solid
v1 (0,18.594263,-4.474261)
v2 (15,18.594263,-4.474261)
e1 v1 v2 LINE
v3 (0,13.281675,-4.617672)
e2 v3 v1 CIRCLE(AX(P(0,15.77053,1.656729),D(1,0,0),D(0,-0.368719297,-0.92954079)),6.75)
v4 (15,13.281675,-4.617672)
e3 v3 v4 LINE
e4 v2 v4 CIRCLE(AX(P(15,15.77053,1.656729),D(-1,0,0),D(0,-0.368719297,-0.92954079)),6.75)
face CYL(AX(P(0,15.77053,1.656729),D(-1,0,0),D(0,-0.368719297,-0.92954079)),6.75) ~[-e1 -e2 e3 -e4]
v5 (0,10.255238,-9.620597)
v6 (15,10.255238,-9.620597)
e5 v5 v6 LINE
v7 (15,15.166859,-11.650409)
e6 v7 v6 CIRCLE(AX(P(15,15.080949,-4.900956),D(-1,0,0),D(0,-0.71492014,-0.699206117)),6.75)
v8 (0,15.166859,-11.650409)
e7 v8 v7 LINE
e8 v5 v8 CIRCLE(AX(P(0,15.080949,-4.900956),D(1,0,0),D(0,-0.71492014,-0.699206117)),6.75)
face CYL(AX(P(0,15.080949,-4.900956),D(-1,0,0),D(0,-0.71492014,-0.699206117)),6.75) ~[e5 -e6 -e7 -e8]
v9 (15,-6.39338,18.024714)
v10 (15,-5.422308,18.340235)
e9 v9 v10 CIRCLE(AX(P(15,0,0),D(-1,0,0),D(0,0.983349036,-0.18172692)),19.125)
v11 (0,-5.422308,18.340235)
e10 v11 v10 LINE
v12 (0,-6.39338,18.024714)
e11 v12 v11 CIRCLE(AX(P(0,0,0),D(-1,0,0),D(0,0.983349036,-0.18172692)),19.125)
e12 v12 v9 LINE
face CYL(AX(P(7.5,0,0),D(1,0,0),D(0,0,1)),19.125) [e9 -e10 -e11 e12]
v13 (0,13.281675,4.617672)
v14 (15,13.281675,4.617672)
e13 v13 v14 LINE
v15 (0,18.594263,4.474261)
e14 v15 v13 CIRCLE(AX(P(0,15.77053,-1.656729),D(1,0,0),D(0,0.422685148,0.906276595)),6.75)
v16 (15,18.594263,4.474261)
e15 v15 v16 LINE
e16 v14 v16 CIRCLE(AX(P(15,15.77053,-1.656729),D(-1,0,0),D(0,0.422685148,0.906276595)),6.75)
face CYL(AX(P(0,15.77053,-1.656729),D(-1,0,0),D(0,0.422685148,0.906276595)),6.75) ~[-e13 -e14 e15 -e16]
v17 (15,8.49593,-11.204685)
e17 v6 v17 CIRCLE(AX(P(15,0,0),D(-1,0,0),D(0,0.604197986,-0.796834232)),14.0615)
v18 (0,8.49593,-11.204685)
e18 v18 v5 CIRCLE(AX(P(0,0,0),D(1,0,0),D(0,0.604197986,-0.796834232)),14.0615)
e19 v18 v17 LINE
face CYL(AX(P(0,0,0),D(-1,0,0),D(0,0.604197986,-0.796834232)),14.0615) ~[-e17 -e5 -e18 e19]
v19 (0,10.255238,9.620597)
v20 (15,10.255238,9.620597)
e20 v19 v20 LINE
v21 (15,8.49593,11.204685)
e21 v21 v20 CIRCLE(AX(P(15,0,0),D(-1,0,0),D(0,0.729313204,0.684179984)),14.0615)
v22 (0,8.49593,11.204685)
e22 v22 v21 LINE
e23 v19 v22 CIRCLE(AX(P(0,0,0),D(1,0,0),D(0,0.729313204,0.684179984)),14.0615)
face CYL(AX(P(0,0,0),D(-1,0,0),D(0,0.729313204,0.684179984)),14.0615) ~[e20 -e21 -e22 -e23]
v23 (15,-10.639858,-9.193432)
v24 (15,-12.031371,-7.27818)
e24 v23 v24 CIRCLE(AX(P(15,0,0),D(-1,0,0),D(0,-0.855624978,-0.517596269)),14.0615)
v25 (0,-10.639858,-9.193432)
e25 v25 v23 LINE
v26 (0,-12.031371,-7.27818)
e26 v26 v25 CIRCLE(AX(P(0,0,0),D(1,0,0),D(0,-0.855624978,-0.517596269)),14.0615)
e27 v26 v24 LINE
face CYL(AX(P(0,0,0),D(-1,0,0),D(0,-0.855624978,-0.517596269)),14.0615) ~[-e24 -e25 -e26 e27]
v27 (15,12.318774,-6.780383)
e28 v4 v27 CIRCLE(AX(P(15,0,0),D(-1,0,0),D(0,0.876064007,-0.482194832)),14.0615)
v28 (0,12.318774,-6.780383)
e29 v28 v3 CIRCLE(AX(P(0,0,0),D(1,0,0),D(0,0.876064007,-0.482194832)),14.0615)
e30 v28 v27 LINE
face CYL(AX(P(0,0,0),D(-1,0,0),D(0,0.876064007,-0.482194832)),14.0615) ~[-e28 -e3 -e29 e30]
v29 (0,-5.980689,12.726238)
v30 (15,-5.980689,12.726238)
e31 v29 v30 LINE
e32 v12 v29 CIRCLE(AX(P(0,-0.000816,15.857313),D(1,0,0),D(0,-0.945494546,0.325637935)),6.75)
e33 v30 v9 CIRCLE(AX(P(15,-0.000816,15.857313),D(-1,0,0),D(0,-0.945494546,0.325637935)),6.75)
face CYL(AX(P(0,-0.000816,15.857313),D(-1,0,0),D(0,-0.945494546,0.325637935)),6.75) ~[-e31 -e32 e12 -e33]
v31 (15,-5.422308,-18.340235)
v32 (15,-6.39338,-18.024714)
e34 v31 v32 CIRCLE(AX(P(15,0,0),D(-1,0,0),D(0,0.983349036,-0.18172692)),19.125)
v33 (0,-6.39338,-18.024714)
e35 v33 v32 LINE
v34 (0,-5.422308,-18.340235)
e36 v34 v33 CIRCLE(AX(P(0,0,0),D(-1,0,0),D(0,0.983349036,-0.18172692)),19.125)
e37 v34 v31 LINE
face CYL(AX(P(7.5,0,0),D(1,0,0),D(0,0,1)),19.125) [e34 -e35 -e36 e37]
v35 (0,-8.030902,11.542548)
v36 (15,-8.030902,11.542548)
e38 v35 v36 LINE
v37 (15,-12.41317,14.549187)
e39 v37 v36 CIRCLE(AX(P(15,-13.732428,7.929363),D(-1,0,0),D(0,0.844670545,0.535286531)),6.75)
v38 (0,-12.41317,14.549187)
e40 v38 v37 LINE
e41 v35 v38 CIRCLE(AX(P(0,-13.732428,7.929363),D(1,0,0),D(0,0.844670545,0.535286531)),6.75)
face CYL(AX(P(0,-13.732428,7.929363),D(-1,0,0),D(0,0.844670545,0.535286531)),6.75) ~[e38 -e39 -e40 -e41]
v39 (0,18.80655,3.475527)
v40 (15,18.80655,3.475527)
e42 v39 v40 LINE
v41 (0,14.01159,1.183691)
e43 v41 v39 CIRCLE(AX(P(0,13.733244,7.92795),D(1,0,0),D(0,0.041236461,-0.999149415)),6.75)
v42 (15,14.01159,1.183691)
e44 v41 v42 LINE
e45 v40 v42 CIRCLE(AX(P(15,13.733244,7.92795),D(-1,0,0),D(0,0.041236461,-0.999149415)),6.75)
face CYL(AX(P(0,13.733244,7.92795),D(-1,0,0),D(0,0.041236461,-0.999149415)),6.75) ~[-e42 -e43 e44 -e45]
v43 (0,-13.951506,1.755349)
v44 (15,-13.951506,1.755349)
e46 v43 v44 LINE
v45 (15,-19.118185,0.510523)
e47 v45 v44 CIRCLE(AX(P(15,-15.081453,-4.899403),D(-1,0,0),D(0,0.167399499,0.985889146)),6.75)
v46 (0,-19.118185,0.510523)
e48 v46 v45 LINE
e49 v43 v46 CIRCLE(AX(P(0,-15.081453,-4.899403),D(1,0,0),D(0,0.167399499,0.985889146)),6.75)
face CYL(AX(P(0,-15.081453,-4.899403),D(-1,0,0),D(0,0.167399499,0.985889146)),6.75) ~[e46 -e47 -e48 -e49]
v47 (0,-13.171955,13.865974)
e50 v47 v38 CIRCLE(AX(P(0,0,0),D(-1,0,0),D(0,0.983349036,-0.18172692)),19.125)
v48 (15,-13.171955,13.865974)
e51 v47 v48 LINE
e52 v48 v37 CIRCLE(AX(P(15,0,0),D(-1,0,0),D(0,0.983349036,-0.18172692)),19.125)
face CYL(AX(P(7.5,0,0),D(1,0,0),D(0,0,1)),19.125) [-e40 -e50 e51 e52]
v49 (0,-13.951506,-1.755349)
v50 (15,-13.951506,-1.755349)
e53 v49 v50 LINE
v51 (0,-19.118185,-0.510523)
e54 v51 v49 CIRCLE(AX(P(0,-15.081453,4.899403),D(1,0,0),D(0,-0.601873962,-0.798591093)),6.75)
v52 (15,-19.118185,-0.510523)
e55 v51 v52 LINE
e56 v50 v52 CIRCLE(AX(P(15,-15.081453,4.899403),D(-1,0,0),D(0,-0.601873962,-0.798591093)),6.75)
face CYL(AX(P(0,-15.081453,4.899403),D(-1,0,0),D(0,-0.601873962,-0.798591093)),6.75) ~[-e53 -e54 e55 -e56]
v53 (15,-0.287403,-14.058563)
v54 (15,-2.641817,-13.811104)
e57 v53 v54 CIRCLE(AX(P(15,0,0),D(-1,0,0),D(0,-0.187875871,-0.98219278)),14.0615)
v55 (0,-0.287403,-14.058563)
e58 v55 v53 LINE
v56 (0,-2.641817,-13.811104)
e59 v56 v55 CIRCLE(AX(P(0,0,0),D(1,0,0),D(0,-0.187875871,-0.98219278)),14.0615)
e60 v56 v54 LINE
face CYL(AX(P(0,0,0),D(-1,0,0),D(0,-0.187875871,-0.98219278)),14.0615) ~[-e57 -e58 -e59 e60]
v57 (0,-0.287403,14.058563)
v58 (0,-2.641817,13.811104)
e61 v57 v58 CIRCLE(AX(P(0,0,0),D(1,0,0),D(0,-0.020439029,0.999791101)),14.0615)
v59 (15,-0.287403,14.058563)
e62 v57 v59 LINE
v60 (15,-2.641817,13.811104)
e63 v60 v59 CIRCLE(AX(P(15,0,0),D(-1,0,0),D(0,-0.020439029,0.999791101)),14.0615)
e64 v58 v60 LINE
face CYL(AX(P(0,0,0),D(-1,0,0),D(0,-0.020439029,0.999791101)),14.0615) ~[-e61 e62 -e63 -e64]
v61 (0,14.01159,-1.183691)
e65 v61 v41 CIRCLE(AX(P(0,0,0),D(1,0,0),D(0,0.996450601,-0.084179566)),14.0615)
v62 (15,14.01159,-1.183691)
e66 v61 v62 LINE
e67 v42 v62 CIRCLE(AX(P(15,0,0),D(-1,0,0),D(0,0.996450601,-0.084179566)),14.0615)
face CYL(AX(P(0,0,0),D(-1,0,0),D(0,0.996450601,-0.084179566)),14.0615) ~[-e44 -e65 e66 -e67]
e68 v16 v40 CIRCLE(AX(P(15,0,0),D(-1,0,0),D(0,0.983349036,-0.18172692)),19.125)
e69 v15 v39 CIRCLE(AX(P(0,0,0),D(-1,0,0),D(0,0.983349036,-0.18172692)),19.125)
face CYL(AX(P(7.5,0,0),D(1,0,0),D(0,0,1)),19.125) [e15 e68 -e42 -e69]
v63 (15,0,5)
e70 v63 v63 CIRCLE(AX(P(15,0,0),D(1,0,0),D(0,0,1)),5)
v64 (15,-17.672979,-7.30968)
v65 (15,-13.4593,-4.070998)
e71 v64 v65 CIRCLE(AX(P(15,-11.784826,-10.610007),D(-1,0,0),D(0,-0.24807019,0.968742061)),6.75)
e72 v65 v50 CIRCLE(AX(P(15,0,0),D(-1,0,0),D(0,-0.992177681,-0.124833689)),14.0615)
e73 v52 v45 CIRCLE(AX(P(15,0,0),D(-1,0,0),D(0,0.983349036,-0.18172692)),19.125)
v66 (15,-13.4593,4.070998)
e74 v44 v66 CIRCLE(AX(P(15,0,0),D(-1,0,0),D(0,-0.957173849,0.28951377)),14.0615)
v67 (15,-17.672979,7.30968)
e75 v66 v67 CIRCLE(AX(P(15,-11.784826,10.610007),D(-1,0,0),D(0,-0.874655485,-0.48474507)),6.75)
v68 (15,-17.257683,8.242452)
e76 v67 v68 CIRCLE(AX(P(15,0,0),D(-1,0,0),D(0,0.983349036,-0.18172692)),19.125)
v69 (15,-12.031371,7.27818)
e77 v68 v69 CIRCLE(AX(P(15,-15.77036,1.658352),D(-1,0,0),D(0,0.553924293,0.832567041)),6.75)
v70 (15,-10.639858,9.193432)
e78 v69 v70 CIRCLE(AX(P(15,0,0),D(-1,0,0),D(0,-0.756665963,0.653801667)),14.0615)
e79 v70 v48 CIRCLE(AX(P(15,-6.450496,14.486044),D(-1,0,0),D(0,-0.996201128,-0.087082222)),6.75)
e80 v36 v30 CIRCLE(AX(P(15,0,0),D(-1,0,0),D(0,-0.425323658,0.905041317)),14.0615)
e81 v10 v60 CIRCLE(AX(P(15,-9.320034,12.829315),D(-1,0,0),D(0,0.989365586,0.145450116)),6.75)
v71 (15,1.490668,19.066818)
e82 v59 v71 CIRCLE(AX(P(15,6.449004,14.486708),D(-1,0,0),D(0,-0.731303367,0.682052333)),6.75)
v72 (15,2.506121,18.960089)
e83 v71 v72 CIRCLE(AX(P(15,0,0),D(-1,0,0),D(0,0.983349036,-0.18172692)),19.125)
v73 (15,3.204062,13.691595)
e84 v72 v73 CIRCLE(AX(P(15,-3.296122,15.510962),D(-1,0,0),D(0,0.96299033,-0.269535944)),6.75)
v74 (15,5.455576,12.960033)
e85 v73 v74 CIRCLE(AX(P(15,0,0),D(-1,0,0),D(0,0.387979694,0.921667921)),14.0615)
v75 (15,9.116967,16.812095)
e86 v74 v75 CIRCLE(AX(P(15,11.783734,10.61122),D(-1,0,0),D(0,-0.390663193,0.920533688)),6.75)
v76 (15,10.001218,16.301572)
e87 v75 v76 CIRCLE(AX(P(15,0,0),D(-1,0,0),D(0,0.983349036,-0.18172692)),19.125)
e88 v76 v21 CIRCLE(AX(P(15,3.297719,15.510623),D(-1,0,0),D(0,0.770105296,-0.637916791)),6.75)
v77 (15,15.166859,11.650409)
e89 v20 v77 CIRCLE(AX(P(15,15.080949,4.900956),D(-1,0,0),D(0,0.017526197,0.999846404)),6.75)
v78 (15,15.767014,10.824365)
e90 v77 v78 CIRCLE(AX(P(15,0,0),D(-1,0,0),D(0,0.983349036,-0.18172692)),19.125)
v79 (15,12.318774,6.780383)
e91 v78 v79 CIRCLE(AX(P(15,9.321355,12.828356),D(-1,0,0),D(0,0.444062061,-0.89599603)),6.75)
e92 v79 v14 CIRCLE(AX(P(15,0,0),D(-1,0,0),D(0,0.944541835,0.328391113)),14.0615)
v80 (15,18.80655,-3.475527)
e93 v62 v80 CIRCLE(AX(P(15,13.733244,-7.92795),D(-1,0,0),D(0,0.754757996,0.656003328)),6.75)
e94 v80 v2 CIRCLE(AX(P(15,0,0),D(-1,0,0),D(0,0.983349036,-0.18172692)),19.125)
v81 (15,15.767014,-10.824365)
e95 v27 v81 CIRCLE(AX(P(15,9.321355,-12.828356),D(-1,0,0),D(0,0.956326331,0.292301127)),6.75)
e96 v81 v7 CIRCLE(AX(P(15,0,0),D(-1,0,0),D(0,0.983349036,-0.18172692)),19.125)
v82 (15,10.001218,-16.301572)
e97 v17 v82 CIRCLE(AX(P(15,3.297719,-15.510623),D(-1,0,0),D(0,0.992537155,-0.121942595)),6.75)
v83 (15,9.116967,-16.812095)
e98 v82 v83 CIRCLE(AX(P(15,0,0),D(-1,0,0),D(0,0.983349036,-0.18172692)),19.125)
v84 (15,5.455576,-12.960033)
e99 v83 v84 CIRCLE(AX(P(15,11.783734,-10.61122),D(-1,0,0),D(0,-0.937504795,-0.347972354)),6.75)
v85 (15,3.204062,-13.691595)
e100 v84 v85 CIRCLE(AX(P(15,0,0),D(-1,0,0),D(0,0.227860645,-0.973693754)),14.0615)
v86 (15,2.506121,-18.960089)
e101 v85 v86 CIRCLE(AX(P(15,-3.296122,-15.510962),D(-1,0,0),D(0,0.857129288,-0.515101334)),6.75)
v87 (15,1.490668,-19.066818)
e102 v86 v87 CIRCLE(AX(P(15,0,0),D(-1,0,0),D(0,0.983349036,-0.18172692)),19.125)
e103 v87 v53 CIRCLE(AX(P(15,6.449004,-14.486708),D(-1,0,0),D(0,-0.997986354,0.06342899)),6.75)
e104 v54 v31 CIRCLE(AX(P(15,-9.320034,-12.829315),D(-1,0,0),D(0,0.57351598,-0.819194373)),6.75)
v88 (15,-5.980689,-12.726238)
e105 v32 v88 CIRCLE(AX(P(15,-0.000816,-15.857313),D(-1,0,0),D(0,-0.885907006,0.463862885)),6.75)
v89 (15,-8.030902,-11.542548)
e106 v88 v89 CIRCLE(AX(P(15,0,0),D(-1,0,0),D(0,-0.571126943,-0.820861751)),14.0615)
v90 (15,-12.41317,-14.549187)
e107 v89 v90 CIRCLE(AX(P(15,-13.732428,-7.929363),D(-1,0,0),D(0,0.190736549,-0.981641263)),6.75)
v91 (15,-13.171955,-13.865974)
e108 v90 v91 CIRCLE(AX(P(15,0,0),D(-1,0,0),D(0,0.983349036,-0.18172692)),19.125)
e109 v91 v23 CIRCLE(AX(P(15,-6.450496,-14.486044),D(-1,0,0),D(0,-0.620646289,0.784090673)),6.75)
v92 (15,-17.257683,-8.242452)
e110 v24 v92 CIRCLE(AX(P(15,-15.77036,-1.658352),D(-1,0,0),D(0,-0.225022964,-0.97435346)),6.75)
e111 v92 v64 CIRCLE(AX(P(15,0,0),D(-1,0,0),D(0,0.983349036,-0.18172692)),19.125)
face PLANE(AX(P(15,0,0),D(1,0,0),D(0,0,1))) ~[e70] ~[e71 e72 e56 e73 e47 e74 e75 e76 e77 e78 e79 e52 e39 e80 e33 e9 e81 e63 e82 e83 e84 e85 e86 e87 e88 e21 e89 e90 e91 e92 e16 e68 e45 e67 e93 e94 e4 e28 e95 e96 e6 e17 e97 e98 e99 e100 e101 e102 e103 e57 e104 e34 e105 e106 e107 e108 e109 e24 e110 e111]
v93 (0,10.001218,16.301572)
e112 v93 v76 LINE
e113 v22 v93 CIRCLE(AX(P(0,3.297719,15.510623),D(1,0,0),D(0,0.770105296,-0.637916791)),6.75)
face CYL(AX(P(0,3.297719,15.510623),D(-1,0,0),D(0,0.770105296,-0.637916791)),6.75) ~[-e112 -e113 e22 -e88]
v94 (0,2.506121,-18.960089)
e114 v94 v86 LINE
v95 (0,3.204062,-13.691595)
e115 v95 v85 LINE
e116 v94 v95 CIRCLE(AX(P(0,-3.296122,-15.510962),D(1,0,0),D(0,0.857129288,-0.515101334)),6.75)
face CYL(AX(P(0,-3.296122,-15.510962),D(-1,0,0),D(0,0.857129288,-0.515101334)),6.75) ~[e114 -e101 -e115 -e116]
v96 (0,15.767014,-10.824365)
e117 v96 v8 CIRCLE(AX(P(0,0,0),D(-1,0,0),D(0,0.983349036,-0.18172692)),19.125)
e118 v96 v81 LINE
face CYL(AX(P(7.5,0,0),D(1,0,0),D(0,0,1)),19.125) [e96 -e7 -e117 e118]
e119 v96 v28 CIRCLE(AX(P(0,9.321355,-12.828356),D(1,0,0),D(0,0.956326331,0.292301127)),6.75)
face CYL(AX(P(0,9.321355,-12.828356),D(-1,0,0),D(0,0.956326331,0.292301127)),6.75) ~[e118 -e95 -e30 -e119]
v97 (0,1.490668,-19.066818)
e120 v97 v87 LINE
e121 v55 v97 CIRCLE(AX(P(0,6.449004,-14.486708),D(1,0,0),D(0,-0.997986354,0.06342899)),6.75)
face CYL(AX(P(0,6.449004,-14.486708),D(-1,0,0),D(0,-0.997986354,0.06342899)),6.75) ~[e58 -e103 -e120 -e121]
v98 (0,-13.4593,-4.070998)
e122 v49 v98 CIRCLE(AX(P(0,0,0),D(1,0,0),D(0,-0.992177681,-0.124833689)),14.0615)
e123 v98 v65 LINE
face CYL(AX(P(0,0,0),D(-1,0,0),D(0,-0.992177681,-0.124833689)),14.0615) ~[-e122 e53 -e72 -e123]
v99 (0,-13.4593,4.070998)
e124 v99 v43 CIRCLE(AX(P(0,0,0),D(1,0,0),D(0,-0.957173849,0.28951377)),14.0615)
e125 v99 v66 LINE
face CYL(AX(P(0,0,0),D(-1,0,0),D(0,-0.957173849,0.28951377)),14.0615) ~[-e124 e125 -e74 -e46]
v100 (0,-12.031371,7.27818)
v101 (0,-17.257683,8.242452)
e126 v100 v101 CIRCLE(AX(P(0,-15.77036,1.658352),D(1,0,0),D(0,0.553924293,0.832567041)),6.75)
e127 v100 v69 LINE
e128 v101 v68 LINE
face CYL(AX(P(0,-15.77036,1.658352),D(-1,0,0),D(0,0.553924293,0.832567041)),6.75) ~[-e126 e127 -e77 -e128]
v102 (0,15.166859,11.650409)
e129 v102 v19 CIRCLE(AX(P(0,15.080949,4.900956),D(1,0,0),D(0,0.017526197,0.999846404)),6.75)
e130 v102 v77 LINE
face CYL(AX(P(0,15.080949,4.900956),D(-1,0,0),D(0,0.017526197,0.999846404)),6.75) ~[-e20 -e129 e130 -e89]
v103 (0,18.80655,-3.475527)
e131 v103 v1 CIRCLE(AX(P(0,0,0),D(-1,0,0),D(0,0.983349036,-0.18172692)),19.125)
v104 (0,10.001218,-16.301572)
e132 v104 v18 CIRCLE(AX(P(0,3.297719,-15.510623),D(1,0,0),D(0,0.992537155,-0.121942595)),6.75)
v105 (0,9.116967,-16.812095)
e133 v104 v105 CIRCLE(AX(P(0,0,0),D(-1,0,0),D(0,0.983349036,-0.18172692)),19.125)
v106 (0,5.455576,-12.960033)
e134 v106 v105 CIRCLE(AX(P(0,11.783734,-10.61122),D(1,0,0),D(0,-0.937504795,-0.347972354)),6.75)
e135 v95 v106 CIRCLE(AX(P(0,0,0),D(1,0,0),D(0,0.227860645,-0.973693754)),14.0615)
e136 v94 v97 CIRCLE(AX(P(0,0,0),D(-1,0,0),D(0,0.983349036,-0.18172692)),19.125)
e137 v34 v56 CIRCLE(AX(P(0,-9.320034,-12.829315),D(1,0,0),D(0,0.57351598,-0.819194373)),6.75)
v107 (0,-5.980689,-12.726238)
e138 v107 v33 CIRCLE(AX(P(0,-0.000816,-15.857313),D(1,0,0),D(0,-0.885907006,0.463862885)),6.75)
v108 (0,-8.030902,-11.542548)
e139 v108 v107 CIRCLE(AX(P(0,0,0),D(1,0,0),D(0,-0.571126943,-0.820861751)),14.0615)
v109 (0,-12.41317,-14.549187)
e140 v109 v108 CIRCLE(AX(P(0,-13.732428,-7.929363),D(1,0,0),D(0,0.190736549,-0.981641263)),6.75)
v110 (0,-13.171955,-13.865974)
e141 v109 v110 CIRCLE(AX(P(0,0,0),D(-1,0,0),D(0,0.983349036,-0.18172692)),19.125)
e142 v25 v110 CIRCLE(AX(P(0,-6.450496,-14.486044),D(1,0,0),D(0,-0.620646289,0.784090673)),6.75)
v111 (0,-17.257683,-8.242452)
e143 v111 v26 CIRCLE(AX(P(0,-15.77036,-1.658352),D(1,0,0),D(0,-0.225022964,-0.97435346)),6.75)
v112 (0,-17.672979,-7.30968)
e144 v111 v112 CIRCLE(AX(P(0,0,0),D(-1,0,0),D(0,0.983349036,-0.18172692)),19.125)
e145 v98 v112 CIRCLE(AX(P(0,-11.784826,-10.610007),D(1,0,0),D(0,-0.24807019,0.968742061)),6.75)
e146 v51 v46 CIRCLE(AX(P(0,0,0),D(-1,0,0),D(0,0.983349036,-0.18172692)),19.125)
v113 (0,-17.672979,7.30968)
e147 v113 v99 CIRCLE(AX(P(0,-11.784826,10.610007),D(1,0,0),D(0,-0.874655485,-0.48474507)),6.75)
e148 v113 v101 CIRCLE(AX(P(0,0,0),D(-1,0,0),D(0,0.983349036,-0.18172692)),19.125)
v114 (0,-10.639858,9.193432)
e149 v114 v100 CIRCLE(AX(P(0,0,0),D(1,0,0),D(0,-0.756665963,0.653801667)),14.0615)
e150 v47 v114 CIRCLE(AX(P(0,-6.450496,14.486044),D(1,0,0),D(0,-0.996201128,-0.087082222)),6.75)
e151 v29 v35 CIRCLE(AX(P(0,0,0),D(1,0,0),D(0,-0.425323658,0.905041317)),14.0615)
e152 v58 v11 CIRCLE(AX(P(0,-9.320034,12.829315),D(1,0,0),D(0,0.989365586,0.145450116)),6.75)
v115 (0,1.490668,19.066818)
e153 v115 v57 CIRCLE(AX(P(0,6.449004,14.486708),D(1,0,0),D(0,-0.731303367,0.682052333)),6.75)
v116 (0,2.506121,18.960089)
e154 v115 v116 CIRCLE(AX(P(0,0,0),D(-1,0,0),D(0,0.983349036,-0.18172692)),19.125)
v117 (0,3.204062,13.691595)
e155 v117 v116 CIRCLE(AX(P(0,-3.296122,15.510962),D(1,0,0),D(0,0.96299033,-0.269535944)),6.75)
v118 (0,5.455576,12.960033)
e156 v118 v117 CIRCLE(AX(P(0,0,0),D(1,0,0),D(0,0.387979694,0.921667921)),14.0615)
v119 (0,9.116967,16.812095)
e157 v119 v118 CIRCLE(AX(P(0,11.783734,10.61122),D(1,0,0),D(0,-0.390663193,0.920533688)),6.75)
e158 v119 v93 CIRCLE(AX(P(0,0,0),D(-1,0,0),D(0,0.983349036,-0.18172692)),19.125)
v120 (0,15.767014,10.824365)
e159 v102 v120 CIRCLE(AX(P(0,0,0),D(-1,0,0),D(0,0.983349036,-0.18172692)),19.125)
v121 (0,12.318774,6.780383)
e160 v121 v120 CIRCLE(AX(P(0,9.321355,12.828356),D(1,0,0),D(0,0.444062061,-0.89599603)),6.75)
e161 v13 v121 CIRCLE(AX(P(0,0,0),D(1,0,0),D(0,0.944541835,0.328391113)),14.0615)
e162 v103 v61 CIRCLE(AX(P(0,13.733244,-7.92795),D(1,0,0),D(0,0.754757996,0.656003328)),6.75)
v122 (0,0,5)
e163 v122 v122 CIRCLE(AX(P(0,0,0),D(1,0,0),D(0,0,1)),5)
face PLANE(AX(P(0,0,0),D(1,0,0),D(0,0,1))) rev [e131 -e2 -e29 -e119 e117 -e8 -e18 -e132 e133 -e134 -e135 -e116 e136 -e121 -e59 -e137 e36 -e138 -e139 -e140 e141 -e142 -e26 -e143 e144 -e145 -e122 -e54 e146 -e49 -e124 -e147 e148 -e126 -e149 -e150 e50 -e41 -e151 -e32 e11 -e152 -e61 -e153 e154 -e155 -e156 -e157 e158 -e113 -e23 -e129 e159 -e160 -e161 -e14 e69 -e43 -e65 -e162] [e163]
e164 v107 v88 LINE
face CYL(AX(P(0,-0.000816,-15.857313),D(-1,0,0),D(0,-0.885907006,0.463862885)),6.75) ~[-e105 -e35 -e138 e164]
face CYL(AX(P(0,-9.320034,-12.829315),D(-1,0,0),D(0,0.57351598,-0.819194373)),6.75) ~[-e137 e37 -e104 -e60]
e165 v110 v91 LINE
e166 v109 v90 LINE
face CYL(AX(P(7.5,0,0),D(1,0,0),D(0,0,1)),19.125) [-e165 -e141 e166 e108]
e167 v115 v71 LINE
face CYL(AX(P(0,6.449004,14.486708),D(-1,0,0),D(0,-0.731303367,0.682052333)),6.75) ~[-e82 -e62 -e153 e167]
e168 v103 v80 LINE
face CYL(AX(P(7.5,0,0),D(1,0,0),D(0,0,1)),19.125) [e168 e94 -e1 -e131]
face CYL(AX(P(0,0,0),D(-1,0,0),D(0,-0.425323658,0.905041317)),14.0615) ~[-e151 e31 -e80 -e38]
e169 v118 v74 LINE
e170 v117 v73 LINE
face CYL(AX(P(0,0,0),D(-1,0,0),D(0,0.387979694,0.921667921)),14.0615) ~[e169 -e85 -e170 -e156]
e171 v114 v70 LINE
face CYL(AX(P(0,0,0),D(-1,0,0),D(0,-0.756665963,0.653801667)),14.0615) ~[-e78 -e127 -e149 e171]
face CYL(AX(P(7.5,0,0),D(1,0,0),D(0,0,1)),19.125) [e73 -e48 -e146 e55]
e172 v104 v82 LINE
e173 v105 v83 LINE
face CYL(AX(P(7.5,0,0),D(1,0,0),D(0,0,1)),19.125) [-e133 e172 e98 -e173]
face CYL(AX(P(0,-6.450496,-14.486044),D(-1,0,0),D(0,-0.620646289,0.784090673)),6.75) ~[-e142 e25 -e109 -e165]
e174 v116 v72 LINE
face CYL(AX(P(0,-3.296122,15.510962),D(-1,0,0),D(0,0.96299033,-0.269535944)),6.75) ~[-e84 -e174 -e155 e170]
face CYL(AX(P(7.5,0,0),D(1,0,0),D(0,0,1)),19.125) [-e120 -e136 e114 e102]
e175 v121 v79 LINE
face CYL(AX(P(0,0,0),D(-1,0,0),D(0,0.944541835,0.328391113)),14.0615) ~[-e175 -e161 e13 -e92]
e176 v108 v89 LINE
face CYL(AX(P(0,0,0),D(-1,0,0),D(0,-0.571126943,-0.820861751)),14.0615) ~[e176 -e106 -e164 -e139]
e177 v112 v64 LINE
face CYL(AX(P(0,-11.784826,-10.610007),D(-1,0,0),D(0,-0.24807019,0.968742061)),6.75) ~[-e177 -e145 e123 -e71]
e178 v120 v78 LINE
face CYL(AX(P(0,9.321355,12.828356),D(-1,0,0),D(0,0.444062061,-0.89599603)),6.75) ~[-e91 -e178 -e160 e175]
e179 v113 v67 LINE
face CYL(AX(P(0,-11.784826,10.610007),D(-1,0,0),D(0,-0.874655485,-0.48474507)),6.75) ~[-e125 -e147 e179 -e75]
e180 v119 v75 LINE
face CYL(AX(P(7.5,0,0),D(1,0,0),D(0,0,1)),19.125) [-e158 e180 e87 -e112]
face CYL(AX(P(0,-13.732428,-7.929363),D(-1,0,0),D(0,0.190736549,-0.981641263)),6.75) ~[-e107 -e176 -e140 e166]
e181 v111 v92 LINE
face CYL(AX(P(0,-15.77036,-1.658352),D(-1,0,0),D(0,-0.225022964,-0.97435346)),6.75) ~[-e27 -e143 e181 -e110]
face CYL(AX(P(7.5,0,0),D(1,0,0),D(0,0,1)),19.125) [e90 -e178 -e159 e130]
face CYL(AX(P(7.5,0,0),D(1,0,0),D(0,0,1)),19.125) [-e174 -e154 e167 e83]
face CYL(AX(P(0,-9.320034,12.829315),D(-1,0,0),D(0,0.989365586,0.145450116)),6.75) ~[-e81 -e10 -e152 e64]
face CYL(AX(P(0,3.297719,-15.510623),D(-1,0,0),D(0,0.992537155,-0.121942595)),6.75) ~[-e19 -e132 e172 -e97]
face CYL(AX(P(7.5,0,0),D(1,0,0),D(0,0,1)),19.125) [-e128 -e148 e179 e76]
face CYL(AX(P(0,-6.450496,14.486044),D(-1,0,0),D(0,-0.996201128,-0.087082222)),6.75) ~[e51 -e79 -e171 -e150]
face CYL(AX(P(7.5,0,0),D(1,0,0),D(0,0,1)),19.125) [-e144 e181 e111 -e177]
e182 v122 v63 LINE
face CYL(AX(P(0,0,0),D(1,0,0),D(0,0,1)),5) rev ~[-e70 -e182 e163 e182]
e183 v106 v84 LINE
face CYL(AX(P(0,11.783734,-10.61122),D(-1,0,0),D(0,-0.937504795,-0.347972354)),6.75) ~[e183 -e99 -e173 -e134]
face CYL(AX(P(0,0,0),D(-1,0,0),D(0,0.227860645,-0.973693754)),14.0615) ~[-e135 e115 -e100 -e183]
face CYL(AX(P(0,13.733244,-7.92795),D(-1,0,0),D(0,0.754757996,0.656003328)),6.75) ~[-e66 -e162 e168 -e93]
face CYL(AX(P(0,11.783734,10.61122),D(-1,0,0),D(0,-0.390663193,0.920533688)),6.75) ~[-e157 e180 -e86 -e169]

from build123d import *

# Parameters (mm, degrees)
BASPROSKE_W     = 15
BASPROSKE_H     = 19.125
TOOTHCUT_DEPTH  = 31.927839401
TEETHCUTS_COUNT = 15
TEETHCUTS_ANGLE = 336
BORSKE_R        = 5
BORE_DEPTH      = 50.0000508


with BuildPart() as part:
    # BasProSke → Base-Revolve (revolve)
    with BuildSketch(Plane(origin=(0, 0, 0), x_dir=(1, 0, 0), z_dir=(0, 1, 0)), mode=Mode.PRIVATE) as base_revolve_sk:
        with Locations((7.5, 9.5625)):
            Rectangle(BASPROSKE_W, BASPROSKE_H)
    revolve(base_revolve_sk.sketch.rotate(Axis((-10, 0, 0), (1, 0, 0)), 180), axis=Axis((-10, 0, 0), (1, 0, 0)))

    # TooCutSke → ToothCut (cut, through all)
    with BuildSketch(Plane(origin=(0, 0, 0), x_dir=(0, 0, -1), z_dir=(1, 0, 0))):
        with BuildLine():
            ThreePointArc((1.183690971, 14.011590129), (0, 14.0615), (-1.183690971, 14.011590129))
            ThreePointArc((-1.183690971, 14.011590129), (-1.84485156, 16.65872161), (-3.499927059, 18.827860493))
            ThreePointArc((-3.499927059, 18.827860493), (0, 19.1504), (3.499927059, 18.827860493))
            ThreePointArc((3.499927059, 18.827860493), (1.84485156, 16.65872161), (1.183690971, 14.011590129))
        make_face()
    toothcut = extrude(amount=TOOTHCUT_DEPTH, mode=Mode.SUBTRACT)

    # TeethCuts: ToothCut ×15 about axis
    teethcuts_axis = Axis((-10, 0, 0), (1, 0, 0))
    for i in range(1, TEETHCUTS_COUNT):
        add(toothcut.rotate(teethcuts_axis, i * TEETHCUTS_ANGLE / (TEETHCUTS_COUNT - 1)), mode=Mode.SUBTRACT)

    # BorSke → Bore (cut, symmetric)
    with BuildSketch(Plane(origin=(0, 0, 0), x_dir=(0, 0, -1), z_dir=(1, 0, 0))):
        with Locations(Location((0, 0, 0), (0, 0, 180))):
            Circle(BORSKE_R)
    extrude(amount=BORE_DEPTH, both=True, mode=Mode.SUBTRACT)


solid = part.part
